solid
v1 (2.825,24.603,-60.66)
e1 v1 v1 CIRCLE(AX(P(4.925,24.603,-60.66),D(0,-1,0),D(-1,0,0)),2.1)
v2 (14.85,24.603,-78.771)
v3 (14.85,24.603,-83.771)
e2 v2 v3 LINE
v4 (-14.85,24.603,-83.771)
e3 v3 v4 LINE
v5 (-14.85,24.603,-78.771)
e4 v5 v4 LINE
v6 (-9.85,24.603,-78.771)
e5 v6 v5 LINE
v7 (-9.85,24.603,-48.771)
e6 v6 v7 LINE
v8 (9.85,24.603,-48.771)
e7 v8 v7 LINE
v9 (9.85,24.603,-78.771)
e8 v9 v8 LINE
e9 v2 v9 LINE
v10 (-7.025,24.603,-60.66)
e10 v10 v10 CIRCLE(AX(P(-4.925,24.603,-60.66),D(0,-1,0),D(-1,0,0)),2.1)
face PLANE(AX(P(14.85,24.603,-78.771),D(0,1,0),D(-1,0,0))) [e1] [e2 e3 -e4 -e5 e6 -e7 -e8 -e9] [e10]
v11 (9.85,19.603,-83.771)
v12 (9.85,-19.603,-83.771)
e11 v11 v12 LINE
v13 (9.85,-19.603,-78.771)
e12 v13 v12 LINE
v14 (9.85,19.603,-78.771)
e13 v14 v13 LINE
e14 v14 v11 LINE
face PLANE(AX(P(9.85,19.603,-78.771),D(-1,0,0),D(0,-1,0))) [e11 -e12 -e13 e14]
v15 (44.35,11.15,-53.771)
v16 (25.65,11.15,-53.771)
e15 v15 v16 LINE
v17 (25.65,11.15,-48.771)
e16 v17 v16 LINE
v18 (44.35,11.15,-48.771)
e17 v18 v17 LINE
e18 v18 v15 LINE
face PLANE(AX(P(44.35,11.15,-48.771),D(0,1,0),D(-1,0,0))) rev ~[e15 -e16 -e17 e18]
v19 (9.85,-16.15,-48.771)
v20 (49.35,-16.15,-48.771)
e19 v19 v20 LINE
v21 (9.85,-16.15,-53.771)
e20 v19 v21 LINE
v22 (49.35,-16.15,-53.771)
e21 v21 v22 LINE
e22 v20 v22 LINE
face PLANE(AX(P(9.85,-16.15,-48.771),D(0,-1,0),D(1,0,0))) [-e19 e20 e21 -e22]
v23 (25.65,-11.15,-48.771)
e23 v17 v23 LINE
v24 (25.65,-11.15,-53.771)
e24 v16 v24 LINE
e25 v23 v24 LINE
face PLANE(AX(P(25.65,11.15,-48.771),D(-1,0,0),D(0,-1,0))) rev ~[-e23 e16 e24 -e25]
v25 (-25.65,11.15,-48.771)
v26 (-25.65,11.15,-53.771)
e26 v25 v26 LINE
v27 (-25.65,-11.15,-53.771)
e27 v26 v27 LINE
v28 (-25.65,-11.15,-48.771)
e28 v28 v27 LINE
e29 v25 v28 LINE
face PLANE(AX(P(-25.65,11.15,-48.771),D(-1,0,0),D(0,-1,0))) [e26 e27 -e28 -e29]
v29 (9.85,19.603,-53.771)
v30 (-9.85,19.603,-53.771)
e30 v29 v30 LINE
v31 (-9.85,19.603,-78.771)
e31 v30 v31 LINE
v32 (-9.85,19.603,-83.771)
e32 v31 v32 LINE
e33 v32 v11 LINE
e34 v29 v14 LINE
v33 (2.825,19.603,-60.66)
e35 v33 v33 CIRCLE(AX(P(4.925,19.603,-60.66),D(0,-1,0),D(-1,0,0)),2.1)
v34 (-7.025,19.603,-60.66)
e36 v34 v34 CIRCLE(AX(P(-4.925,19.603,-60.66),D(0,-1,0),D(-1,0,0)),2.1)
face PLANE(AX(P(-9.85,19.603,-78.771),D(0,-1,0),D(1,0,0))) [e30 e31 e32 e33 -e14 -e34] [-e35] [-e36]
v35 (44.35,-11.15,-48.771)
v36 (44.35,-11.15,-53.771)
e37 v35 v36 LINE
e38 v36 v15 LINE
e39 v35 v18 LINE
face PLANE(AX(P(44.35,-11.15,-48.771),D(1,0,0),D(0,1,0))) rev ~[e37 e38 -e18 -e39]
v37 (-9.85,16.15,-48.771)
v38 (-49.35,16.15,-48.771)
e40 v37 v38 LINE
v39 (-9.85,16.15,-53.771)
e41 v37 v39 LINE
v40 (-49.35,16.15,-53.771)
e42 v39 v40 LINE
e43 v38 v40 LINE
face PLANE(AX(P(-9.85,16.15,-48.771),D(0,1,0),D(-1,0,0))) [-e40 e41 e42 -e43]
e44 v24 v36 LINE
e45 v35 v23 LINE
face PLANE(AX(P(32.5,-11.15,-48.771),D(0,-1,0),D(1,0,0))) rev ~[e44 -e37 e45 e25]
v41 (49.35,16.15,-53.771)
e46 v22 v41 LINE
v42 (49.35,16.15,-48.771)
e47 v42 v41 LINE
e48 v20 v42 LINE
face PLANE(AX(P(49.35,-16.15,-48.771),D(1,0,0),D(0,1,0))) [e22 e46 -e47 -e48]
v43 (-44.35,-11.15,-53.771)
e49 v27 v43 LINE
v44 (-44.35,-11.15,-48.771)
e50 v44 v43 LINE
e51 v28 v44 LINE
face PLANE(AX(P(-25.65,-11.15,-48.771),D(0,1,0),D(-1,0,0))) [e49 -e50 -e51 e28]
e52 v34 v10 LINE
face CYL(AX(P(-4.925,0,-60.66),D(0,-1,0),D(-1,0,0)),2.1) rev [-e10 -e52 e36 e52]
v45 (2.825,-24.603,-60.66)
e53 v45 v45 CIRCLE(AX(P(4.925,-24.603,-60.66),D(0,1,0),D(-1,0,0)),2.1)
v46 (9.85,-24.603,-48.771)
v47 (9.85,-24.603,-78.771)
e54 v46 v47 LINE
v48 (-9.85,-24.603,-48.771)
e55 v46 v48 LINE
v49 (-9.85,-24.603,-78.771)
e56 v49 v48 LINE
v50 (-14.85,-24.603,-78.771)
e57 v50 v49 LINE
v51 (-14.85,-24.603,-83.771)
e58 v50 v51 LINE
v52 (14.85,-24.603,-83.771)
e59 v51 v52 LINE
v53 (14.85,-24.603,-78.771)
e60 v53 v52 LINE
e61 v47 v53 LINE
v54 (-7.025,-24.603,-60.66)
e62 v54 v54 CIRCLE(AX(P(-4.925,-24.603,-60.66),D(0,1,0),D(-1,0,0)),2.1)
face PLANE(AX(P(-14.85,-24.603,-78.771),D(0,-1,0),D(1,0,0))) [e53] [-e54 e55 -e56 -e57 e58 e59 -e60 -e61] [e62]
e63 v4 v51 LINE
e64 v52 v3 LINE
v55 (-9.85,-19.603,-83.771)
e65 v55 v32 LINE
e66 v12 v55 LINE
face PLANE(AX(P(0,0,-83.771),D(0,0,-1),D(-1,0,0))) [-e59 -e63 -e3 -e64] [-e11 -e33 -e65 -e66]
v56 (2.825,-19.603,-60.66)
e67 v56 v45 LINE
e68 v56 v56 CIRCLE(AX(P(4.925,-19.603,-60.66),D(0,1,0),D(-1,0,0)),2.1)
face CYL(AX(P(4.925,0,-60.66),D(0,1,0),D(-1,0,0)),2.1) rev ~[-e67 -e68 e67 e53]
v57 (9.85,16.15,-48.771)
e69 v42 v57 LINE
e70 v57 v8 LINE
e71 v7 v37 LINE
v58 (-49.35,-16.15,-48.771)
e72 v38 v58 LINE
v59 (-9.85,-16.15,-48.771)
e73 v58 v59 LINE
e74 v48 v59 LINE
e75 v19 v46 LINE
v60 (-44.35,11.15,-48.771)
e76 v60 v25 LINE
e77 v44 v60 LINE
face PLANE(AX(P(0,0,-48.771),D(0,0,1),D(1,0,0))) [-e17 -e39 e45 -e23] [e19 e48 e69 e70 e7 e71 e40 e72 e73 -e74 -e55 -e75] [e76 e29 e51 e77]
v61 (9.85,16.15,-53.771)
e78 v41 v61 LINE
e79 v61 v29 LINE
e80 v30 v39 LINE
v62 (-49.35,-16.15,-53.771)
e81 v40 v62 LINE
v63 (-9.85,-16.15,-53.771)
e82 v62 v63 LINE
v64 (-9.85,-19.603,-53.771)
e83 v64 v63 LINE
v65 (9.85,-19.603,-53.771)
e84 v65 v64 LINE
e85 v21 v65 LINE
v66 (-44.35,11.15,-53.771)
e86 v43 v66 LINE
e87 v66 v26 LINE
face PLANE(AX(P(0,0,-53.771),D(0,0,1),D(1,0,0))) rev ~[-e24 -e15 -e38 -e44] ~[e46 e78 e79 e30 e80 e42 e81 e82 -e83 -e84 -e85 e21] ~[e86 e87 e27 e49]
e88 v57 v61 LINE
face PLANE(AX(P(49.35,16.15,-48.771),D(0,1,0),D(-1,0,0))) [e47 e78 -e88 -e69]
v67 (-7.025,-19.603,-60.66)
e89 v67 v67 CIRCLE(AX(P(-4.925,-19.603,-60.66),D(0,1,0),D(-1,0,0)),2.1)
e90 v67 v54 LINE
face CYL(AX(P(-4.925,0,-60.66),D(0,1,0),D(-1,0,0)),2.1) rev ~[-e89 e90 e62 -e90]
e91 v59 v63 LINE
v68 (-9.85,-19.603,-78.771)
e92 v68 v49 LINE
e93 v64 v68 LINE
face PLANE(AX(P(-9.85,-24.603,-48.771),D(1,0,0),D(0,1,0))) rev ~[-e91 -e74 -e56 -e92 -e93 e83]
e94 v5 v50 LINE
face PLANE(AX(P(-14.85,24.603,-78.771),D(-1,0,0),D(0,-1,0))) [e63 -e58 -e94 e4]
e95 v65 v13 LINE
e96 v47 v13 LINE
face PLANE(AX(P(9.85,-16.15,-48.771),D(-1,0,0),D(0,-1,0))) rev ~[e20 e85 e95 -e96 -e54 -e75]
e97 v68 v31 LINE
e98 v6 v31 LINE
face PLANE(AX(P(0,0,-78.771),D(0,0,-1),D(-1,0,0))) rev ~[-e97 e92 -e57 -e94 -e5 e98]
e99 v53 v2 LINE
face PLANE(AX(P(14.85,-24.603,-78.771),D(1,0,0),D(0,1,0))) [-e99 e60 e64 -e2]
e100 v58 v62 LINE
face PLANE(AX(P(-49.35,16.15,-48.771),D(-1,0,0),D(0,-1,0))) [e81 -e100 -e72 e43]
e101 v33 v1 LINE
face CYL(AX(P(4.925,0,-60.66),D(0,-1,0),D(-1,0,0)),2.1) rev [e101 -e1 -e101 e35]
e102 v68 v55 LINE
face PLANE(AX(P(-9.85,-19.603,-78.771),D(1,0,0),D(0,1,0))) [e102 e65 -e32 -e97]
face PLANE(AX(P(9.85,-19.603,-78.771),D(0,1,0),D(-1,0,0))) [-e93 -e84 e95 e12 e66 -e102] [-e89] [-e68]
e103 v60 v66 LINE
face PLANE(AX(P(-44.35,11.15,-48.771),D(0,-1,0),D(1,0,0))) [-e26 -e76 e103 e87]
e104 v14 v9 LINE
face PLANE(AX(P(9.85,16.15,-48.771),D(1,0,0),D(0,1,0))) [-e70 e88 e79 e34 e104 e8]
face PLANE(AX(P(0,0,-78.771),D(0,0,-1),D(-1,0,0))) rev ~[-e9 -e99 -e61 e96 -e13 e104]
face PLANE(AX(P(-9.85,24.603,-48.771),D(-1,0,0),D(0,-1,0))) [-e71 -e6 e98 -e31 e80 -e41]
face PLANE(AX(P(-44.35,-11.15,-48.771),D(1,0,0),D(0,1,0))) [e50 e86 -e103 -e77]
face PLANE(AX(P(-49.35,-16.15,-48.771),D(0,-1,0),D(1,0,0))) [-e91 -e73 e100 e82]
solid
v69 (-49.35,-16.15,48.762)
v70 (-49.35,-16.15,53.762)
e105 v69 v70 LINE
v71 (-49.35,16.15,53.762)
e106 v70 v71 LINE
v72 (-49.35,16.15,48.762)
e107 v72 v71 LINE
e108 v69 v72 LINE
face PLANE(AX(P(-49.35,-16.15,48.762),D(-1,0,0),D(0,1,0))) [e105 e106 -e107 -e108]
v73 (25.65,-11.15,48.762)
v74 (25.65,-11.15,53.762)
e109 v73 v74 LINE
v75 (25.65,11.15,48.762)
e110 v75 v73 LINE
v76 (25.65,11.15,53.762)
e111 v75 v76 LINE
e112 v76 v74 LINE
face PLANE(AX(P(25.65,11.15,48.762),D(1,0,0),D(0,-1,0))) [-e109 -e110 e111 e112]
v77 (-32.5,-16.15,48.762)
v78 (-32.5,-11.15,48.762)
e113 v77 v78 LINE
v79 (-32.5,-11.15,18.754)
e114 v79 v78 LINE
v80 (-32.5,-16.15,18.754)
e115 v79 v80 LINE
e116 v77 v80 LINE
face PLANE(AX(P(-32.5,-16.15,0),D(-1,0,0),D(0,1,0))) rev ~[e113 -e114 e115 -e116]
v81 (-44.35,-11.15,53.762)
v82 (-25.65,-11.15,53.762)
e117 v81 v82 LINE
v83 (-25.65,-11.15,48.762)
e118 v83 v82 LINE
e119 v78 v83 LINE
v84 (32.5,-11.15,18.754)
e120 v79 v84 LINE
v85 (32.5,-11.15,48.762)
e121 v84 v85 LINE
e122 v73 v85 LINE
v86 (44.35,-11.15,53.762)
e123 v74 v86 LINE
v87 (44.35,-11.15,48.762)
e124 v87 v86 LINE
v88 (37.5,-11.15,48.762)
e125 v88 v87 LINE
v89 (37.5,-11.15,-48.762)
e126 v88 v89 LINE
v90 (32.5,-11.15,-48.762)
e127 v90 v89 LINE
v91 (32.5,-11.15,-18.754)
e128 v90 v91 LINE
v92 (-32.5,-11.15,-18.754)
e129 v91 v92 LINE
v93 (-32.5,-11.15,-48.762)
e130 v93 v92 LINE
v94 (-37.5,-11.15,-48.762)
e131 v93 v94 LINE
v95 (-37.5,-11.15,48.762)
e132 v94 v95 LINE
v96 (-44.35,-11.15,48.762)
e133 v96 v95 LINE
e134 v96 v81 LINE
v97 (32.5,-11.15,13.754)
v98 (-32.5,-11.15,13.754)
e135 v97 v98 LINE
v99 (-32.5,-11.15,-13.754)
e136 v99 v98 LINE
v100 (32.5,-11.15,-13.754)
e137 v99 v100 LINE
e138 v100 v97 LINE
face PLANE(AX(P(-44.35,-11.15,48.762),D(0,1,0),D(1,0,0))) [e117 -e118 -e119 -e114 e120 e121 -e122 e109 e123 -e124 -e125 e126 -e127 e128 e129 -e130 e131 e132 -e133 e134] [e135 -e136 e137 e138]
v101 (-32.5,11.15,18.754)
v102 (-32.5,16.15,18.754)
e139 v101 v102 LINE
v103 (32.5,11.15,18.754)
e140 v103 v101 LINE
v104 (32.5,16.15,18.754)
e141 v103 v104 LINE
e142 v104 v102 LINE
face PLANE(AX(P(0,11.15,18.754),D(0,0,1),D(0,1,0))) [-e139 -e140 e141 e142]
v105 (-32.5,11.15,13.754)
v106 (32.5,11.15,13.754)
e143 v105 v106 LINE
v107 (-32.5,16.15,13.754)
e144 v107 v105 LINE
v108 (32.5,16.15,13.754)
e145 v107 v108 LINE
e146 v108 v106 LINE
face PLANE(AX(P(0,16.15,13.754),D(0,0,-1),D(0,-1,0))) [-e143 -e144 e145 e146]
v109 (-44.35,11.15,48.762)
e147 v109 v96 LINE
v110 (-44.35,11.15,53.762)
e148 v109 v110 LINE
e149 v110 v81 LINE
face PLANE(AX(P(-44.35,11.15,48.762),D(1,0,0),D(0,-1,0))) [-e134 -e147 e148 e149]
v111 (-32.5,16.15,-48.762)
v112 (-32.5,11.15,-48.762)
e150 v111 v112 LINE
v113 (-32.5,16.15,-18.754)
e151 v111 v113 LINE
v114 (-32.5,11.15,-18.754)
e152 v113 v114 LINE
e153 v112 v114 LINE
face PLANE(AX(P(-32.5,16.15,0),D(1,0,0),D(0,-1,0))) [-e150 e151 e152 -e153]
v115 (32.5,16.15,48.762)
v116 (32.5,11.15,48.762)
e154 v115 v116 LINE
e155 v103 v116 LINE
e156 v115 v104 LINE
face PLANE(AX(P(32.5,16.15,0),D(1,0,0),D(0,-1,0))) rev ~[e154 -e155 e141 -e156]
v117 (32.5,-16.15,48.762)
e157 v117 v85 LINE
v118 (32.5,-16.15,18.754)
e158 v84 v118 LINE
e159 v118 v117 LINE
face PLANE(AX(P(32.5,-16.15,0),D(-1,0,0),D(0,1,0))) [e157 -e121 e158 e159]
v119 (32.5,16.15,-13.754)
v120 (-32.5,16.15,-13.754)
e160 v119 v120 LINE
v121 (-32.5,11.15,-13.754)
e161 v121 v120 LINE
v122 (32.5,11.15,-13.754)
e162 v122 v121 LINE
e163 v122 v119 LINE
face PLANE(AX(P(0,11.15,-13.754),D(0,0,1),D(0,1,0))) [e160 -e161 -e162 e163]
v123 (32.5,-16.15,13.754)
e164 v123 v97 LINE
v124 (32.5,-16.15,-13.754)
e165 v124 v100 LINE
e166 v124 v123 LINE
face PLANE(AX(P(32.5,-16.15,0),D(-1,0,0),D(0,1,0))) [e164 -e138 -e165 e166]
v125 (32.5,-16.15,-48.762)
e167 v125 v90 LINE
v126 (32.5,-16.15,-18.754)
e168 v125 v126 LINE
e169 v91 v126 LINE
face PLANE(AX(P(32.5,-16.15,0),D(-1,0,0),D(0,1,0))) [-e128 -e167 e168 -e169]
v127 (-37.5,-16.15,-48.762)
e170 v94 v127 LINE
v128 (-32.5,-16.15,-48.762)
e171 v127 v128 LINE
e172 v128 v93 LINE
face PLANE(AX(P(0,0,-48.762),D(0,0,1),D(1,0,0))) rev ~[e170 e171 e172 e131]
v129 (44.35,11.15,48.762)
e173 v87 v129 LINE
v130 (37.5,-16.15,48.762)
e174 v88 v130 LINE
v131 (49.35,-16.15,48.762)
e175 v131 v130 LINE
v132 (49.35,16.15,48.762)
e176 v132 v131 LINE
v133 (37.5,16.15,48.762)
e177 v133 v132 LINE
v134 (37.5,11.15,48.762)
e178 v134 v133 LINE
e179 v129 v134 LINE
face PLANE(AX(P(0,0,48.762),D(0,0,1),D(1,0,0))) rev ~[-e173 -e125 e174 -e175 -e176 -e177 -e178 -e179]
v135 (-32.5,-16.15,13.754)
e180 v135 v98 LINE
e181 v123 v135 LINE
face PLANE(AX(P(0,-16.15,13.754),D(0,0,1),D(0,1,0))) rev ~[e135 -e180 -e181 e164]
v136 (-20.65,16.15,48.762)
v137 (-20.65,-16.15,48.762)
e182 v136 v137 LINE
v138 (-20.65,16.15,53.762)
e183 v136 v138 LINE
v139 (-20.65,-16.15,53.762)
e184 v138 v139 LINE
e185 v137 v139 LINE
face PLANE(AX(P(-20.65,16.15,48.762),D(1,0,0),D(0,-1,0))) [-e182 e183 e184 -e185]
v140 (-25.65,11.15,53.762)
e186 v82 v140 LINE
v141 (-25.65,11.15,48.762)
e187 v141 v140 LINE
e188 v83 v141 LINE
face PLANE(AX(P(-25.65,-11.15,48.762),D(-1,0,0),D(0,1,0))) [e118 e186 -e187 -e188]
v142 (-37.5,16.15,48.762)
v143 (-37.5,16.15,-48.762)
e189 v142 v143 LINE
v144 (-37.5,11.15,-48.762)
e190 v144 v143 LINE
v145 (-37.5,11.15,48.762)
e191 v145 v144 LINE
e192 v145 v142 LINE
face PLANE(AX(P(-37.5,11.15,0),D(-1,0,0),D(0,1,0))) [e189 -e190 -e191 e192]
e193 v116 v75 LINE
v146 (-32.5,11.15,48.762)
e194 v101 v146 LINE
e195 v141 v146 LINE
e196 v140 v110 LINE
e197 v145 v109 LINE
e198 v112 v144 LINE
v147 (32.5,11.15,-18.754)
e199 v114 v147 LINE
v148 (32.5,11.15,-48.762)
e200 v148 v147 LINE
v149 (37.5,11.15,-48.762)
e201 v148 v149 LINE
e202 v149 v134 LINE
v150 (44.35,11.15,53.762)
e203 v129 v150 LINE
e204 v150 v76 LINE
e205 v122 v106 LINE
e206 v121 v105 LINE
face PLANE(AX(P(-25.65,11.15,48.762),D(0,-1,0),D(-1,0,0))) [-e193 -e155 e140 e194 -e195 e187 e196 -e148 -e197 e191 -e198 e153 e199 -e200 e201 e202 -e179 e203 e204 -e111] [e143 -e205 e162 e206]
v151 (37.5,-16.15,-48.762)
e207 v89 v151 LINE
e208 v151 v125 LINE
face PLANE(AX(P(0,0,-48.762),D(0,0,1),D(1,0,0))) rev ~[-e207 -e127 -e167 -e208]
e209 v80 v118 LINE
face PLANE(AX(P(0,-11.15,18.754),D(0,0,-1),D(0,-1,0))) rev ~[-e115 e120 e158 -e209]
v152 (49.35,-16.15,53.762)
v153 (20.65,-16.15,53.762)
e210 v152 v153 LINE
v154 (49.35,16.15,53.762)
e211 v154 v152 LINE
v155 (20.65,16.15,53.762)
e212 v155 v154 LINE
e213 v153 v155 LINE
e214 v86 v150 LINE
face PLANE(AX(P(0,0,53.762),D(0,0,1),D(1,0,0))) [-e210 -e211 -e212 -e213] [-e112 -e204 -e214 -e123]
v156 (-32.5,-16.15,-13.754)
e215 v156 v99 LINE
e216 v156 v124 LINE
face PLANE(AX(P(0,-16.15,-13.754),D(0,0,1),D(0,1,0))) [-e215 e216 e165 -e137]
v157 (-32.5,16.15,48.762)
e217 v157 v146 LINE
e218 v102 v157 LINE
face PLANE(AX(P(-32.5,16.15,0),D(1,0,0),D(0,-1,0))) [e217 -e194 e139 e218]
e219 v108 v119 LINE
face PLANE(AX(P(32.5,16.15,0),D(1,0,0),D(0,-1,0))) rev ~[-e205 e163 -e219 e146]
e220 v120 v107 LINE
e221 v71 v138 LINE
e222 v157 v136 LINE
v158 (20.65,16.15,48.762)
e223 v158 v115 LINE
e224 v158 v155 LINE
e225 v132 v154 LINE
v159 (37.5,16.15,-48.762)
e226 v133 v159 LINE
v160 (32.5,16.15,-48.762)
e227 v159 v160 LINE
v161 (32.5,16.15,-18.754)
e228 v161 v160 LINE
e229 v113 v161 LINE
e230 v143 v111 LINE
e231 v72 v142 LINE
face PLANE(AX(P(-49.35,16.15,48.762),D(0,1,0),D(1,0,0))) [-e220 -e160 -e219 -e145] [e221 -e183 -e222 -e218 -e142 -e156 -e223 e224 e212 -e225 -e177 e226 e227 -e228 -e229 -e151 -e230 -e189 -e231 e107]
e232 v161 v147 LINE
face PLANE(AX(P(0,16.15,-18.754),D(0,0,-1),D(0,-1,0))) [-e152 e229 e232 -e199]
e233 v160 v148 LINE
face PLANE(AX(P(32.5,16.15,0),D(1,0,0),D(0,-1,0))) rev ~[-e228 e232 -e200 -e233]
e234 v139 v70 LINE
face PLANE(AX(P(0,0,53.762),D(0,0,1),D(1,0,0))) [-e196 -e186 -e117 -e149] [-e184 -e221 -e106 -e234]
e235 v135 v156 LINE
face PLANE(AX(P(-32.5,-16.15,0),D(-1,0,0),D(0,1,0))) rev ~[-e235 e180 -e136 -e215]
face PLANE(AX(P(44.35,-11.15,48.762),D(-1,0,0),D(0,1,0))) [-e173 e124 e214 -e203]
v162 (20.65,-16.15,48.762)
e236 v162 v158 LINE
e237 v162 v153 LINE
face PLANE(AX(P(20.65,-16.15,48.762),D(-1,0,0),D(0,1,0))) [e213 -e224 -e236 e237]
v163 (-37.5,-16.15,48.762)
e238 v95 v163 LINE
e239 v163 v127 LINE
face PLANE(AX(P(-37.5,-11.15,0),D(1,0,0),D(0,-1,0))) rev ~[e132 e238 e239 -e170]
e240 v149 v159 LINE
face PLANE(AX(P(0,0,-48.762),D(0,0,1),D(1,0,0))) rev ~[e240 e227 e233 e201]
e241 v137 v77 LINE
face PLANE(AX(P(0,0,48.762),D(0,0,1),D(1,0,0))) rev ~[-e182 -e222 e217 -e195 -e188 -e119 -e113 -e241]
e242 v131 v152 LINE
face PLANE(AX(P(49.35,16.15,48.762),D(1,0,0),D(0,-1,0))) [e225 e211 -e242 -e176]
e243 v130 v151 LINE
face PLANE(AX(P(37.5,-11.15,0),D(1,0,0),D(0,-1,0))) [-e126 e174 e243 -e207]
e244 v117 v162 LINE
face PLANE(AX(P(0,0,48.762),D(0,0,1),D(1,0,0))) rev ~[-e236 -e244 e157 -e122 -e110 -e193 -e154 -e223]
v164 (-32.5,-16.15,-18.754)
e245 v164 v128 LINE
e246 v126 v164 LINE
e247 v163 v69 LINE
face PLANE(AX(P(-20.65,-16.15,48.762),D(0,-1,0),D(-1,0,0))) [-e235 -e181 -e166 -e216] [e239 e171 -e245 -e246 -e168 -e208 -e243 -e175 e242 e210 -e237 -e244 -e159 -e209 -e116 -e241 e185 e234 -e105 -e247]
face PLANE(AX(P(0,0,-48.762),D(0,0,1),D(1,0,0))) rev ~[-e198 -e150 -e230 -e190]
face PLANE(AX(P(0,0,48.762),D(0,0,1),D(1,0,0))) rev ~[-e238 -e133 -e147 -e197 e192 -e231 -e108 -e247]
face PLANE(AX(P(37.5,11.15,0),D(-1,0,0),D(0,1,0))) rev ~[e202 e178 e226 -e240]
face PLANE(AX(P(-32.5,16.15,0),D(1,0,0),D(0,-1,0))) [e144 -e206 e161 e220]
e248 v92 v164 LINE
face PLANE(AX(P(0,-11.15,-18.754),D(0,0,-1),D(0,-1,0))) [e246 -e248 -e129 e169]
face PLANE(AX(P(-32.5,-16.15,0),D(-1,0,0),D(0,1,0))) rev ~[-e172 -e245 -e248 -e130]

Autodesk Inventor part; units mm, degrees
sketch "Sketch1" plane through (0, 0, 0) normal (0, 0, 1) x (1, 0, 0)
  line L0 (-32.5, 11.15) -> (32.5, 11.15) construction
  line L1 (32.5, 11.15) -> (32.5, -11.15) construction
  line L2 (32.5, -11.15) -> (-32.5, -11.15) construction
  line L3 (-32.5, -11.15) -> (-32.5, 11.15) construction
  line L4 (-32.5, 11.15) -> (32.5, -11.15) construction
  line L5 (32.5, 11.15) -> (-32.5, -11.15) construction
  line L6 (-32.5, 11.15) -> (-37.5, 11.15)
  line L7 (-37.5, 11.15) -> (-37.5, 16.15)
  line L8 (-37.5, 16.15) -> (-32.5, 16.15)
  line L9 (-32.5, 16.15) -> (-32.5, 11.15)
  line L10 (32.5, 11.15) -> (37.5, 11.15)
  line L11 (37.5, 11.15) -> (37.5, 16.15)
  line L12 (37.5, 16.15) -> (32.5, 16.15)
  line L13 (32.5, 16.15) -> (32.5, 11.15)
  line L14 (32.5, -11.15) -> (37.5, -11.15)
  line L15 (37.5, -11.15) -> (37.5, -16.15)
  line L16 (37.5, -16.15) -> (32.5, -16.15)
  line L17 (32.5, -16.15) -> (32.5, -11.15)
  line L18 (-32.5, -11.15) -> (-37.5, -11.15)
  line L19 (-37.5, -11.15) -> (-37.5, -16.15)
  line L20 (-37.5, -16.15) -> (-32.5, -16.15)
  line L21 (-32.5, -16.15) -> (-32.5, -11.15)
  point P0 (0, 0)
  dimension "d0" = 65
  dimension "d1" = 22.3
  dimension "d2" = 5
  dimension "d3" = 5
  dimension "d4" = 5
  dimension "d5" = 5
  dimension "d6" = 5
  dimension "d7" = 5
  dimension "d8" = 5
  dimension "d9" = 5
extrude "Extrusion1" add sketch "Sketch1" along normal mid plane 97.524
ref_plane "Work Plane1" through (0, 0, 48.762) normal (0, 0, 1) x (1, 0, 0)
sketch "Sketch2" plane through (0, 0, 48.762) normal (0, 0, 1) x (1, 0, 0)
  line L0 (0, 0) -> (-35, 0) construction
  line L1 (0, 0) -> (35, 0) construction
  line L2 (-49.35, 16.15) -> (-20.65, 16.15)
  line L3 (-20.65, 16.15) -> (-20.65, -16.15)
  line L4 (-20.65, -16.15) -> (-49.35, -16.15)
  line L5 (-49.35, -16.15) -> (-49.35, 16.15)
  line L6 (-49.35, 16.15) -> (-20.65, -16.15) construction
  line L7 (-20.65, 16.15) -> (-49.35, -16.15) construction
  line L8 (20.65, 16.15) -> (49.35, 16.15)
  line L9 (49.35, 16.15) -> (49.35, -16.15)
  line L10 (49.35, -16.15) -> (20.65, -16.15)
  line L11 (20.65, -16.15) -> (20.65, 16.15)
  line L12 (20.65, 16.15) -> (49.35, -16.15) construction
  line L13 (49.35, 16.15) -> (20.65, -16.15) construction
  line L14 (-25.65, 11.15) -> (-44.35, 11.15)
  line L15 (-44.35, 11.15) -> (-44.35, -11.15)
  line L16 (-44.35, -11.15) -> (-25.65, -11.15)
  line L17 (-25.65, -11.15) -> (-25.65, 11.15)
  line L18 (44.35, 11.15) -> (25.65, 11.15)
  line L19 (25.65, 11.15) -> (25.65, -11.15)
  line L20 (25.65, -11.15) -> (44.35, -11.15)
  line L21 (44.35, -11.15) -> (44.35, 11.15)
  dimension "d13" = 35
  dimension "d14" = 35
  dimension "d15" = 28.7
  dimension "d16" = 32.3
  dimension "d17" = 28.7
  dimension "d18" = 32.3
  dimension "d19" = 5
  dimension "d20" = 5
extrude "Extrusion2" add sketch "Sketch2" along normal blind 5
ref_plane "Work Plane2" through (0, 0, -48.771) normal (0, 0, 1) x (1, 0, 0)
sketch "Sketch3" plane through (0, 0, -48.771) normal (0, 0, 1) x (1, 0, 0)
  line L0 (49.35, 16.15) -> (-49.35, 16.15)
  line L1 (-49.35, 16.15) -> (-49.35, -16.15)
  line L2 (-49.35, -16.15) -> (49.35, -16.15)
  line L3 (49.35, -16.15) -> (49.35, 16.15)
  line L4 (49.35, 16.15) -> (-49.35, -16.15) construction
  line L5 (-49.35, 16.15) -> (49.35, -16.15) construction
  line L6 (0, 0) -> (35, 0) construction
  line L7 (0, 0) -> (-35, 0) construction
  line L8 (32.5, -11.15) -> (25.65, -11.15) projected
  line L9 (44.35, 11.15) -> (25.65, 11.15)
  line L10 (25.65, 11.15) -> (25.65, -11.15)
  line L11 (25.65, -11.15) -> (44.35, -11.15)
  line L12 (44.35, -11.15) -> (44.35, 11.15)
  line L13 (44.35, 11.15) -> (25.65, -11.15) construction
  line L14 (25.65, 11.15) -> (44.35, -11.15) construction
  line L15 (-44.35, -11.15) -> (-44.35, 11.15) projected
  line L16 (-25.65, -11.15) -> (-44.35, -11.15)
  line L17 (-44.35, -11.15) -> (-44.35, 11.15)
  line L18 (-44.35, 11.15) -> (-25.65, 11.15)
  line L19 (-25.65, 11.15) -> (-25.65, -11.15)
  line L20 (-25.65, -11.15) -> (-44.35, 11.15) construction
  line L21 (-44.35, -11.15) -> (-25.65, 11.15) construction
  line L22 (0, 0) -> (0, 24.603) construction
  line L23 (0, 24.603) -> (9.85, 24.603) construction
  line L24 (9.85, 24.603) -> (-9.85, 24.603)
  line L25 (-9.85, 24.603) -> (-9.85, 16.15)
  line L26 (-9.85, 16.15) -> (9.85, 16.15)
  line L27 (9.85, 16.15) -> (9.85, 24.603)
  line L28 (0, 0) -> (0, -24.603) construction
  line L29 (0, -24.603) -> (9.85, -24.603) construction
  line L30 (9.85, -24.603) -> (-9.85, -24.603)
  line L31 (-9.85, -24.603) -> (-9.85, -16.15)
  line L32 (-9.85, -16.15) -> (9.85, -16.15)
  line L33 (9.85, -16.15) -> (9.85, -24.603)
  point P0 (30, -11.15)
  dimension "d24" = 98.7
  dimension "d25" = 32.3
  dimension "d26" = 35
  dimension "d27" = 35
  dimension "d76" = 24.603
  dimension "d77" = 9.85
  dimension "d78" = 19.7
  dimension "d79" = 24.603
  dimension "d80" = 9.85
  dimension "d81" = 19.7
extrude "Extrusion3" add sketch "Sketch3" against normal blind 5
sketch "Sketch4" plane through (0, 0, 0) normal (1, 0, 0) x (0, 1, 0)
  line L0 (11.15, -48.762) -> (11.15, 48.762) projected
  line L1 (11.15, 18.754) -> (16.15, 18.754)
  line L2 (16.15, 18.754) -> (16.15, 13.754)
  line L3 (16.15, 13.754) -> (11.15, 13.754)
  line L4 (11.15, 13.754) -> (11.15, 18.754)
  line L5 (-16.15, 48.762) -> (16.15, 48.762) projected
  line L6 (11.15, -13.754) -> (16.15, -13.754)
  line L7 (16.15, -13.754) -> (16.15, -18.754)
  line L8 (16.15, -18.754) -> (11.15, -18.754)
  line L9 (11.15, -18.754) -> (11.15, -13.754)
  line L10 (16.15, -48.762) -> (11.15, -48.762) projected
  line L11 (-11.15, 48.762) -> (-11.15, -48.762) projected
  line L12 (-11.15, 18.754) -> (-16.15, 18.754)
  line L13 (-16.15, 18.754) -> (-16.15, 13.754)
  line L14 (-16.15, 13.754) -> (-11.15, 13.754)
  line L15 (-11.15, 13.754) -> (-11.15, 18.754)
  line L16 (-11.15, -18.754) -> (-16.15, -18.754)
  line L17 (-16.15, -18.754) -> (-16.15, -13.754)
  line L18 (-16.15, -13.754) -> (-11.15, -13.754)
  line L19 (-11.15, -13.754) -> (-11.15, -18.754)
  line L20 (-11.15, -48.762) -> (-16.15, -48.762) projected
  point P0 (0, 0)
  dimension "d30" = 5
  dimension "d31" = 5
  dimension "d32" = 30.008
  dimension "d33" = 5
  dimension "d34" = 5
  dimension "d35" = 30.008
  dimension "d36" = 5
  dimension "d37" = 5
  dimension "d38" = 5
  dimension "d39" = 5
  dimension "d40" = 30.008
  dimension "d41" = 30.008
extrude "Extrusion4" add sketch "Sketch4" along normal mid plane 65
sketch "Sketch7" plane through (0, 0, -53.771) normal (0, 0, -1) x (-1, 0, 0)
  line L0 (-9.85, 24.603) -> (9.85, 24.603)
  line L1 (9.85, 24.603) -> (9.85, -24.603)
  line L2 (9.85, -24.603) -> (-9.85, -24.603)
  line L3 (-9.85, -24.603) -> (-9.85, 24.603)
  line L4 (-9.85, 24.603) -> (9.85, -24.603) construction
  line L5 (9.85, 24.603) -> (-9.85, -24.603) construction
  line L6 (-9.85, 19.603) -> (9.85, 19.603)
  line L7 (-9.85, -19.603) -> (9.85, -19.603)
  point P0 (0, 0)
  point P1 (4.85, 24.603)
  point P2 (4.85, -24.603)
  point P3 (-4.85, 24.603)
  point P4 (-4.85, -24.603)
  dimension "d54" = 19.7
  dimension "d55" = 49.206
  dimension "d74" = 5
  dimension "d75" = 5
extrude "Extrusion7" add sketch "Sketch7" along normal blind 25 contours L0 L1 L6 L3 | L7 L1 L2 L3
ref_plane "Work Plane3" through (0, 0, -78.771) normal (0, 0, -1) x (-1, 0, 0)
sketch "Sketch8" plane through (0, 0, -78.771) normal (0, 0, -1) x (-1, 0, 0)
  line L0 (-14.85, 24.603) -> (14.85, 24.603)
  line L1 (14.85, 24.603) -> (14.85, -24.603)
  line L2 (14.85, -24.603) -> (-14.85, -24.603)
  line L3 (-14.85, -24.603) -> (-14.85, 24.603)
  line L4 (-14.85, 24.603) -> (14.85, -24.603) construction
  line L5 (14.85, 24.603) -> (-14.85, -24.603) construction
  line L6 (9.85, 19.603) -> (-9.85, 19.603)
  line L7 (-9.85, 19.603) -> (-9.85, -19.603)
  line L8 (-9.85, -19.603) -> (9.85, -19.603)
  line L9 (9.85, -19.603) -> (9.85, 19.603)
  point P0 (0, 0)
  dimension "d61" = 29.7
  dimension "d62" = 49.206
  dimension "d63" = 5
extrude "Extrusion8" add sketch "Sketch8" along normal blind 5
sketch "Sketch10" plane through (0, 0, 0) normal (0, 1, 0) x (-1, 0, 0)
  circle A0 centre (-4.925, -60.66) radius 2.1
  line L0 (-9.85, -53.771) -> (9.85, -53.771) projected
  line L1 (-9.85, -53.771) -> (-9.85, -78.771) projected
  circle A1 centre (4.925, -60.66) radius 2.1
  line L2 (9.85, -53.771) -> (9.85, -78.771) projected
  point P0 (0, 0)
  dimension "d82" = 4.2
  dimension "d83" = 6.889
  dimension "d84" = 4.925
  dimension "d85" = 4.2
  dimension "d86" = 6.889
  dimension "d87" = 4.925
extrude "Extrusion10" cut sketch "Sketch10" along normal through all both and the other way through all
properties part number "MTail"
